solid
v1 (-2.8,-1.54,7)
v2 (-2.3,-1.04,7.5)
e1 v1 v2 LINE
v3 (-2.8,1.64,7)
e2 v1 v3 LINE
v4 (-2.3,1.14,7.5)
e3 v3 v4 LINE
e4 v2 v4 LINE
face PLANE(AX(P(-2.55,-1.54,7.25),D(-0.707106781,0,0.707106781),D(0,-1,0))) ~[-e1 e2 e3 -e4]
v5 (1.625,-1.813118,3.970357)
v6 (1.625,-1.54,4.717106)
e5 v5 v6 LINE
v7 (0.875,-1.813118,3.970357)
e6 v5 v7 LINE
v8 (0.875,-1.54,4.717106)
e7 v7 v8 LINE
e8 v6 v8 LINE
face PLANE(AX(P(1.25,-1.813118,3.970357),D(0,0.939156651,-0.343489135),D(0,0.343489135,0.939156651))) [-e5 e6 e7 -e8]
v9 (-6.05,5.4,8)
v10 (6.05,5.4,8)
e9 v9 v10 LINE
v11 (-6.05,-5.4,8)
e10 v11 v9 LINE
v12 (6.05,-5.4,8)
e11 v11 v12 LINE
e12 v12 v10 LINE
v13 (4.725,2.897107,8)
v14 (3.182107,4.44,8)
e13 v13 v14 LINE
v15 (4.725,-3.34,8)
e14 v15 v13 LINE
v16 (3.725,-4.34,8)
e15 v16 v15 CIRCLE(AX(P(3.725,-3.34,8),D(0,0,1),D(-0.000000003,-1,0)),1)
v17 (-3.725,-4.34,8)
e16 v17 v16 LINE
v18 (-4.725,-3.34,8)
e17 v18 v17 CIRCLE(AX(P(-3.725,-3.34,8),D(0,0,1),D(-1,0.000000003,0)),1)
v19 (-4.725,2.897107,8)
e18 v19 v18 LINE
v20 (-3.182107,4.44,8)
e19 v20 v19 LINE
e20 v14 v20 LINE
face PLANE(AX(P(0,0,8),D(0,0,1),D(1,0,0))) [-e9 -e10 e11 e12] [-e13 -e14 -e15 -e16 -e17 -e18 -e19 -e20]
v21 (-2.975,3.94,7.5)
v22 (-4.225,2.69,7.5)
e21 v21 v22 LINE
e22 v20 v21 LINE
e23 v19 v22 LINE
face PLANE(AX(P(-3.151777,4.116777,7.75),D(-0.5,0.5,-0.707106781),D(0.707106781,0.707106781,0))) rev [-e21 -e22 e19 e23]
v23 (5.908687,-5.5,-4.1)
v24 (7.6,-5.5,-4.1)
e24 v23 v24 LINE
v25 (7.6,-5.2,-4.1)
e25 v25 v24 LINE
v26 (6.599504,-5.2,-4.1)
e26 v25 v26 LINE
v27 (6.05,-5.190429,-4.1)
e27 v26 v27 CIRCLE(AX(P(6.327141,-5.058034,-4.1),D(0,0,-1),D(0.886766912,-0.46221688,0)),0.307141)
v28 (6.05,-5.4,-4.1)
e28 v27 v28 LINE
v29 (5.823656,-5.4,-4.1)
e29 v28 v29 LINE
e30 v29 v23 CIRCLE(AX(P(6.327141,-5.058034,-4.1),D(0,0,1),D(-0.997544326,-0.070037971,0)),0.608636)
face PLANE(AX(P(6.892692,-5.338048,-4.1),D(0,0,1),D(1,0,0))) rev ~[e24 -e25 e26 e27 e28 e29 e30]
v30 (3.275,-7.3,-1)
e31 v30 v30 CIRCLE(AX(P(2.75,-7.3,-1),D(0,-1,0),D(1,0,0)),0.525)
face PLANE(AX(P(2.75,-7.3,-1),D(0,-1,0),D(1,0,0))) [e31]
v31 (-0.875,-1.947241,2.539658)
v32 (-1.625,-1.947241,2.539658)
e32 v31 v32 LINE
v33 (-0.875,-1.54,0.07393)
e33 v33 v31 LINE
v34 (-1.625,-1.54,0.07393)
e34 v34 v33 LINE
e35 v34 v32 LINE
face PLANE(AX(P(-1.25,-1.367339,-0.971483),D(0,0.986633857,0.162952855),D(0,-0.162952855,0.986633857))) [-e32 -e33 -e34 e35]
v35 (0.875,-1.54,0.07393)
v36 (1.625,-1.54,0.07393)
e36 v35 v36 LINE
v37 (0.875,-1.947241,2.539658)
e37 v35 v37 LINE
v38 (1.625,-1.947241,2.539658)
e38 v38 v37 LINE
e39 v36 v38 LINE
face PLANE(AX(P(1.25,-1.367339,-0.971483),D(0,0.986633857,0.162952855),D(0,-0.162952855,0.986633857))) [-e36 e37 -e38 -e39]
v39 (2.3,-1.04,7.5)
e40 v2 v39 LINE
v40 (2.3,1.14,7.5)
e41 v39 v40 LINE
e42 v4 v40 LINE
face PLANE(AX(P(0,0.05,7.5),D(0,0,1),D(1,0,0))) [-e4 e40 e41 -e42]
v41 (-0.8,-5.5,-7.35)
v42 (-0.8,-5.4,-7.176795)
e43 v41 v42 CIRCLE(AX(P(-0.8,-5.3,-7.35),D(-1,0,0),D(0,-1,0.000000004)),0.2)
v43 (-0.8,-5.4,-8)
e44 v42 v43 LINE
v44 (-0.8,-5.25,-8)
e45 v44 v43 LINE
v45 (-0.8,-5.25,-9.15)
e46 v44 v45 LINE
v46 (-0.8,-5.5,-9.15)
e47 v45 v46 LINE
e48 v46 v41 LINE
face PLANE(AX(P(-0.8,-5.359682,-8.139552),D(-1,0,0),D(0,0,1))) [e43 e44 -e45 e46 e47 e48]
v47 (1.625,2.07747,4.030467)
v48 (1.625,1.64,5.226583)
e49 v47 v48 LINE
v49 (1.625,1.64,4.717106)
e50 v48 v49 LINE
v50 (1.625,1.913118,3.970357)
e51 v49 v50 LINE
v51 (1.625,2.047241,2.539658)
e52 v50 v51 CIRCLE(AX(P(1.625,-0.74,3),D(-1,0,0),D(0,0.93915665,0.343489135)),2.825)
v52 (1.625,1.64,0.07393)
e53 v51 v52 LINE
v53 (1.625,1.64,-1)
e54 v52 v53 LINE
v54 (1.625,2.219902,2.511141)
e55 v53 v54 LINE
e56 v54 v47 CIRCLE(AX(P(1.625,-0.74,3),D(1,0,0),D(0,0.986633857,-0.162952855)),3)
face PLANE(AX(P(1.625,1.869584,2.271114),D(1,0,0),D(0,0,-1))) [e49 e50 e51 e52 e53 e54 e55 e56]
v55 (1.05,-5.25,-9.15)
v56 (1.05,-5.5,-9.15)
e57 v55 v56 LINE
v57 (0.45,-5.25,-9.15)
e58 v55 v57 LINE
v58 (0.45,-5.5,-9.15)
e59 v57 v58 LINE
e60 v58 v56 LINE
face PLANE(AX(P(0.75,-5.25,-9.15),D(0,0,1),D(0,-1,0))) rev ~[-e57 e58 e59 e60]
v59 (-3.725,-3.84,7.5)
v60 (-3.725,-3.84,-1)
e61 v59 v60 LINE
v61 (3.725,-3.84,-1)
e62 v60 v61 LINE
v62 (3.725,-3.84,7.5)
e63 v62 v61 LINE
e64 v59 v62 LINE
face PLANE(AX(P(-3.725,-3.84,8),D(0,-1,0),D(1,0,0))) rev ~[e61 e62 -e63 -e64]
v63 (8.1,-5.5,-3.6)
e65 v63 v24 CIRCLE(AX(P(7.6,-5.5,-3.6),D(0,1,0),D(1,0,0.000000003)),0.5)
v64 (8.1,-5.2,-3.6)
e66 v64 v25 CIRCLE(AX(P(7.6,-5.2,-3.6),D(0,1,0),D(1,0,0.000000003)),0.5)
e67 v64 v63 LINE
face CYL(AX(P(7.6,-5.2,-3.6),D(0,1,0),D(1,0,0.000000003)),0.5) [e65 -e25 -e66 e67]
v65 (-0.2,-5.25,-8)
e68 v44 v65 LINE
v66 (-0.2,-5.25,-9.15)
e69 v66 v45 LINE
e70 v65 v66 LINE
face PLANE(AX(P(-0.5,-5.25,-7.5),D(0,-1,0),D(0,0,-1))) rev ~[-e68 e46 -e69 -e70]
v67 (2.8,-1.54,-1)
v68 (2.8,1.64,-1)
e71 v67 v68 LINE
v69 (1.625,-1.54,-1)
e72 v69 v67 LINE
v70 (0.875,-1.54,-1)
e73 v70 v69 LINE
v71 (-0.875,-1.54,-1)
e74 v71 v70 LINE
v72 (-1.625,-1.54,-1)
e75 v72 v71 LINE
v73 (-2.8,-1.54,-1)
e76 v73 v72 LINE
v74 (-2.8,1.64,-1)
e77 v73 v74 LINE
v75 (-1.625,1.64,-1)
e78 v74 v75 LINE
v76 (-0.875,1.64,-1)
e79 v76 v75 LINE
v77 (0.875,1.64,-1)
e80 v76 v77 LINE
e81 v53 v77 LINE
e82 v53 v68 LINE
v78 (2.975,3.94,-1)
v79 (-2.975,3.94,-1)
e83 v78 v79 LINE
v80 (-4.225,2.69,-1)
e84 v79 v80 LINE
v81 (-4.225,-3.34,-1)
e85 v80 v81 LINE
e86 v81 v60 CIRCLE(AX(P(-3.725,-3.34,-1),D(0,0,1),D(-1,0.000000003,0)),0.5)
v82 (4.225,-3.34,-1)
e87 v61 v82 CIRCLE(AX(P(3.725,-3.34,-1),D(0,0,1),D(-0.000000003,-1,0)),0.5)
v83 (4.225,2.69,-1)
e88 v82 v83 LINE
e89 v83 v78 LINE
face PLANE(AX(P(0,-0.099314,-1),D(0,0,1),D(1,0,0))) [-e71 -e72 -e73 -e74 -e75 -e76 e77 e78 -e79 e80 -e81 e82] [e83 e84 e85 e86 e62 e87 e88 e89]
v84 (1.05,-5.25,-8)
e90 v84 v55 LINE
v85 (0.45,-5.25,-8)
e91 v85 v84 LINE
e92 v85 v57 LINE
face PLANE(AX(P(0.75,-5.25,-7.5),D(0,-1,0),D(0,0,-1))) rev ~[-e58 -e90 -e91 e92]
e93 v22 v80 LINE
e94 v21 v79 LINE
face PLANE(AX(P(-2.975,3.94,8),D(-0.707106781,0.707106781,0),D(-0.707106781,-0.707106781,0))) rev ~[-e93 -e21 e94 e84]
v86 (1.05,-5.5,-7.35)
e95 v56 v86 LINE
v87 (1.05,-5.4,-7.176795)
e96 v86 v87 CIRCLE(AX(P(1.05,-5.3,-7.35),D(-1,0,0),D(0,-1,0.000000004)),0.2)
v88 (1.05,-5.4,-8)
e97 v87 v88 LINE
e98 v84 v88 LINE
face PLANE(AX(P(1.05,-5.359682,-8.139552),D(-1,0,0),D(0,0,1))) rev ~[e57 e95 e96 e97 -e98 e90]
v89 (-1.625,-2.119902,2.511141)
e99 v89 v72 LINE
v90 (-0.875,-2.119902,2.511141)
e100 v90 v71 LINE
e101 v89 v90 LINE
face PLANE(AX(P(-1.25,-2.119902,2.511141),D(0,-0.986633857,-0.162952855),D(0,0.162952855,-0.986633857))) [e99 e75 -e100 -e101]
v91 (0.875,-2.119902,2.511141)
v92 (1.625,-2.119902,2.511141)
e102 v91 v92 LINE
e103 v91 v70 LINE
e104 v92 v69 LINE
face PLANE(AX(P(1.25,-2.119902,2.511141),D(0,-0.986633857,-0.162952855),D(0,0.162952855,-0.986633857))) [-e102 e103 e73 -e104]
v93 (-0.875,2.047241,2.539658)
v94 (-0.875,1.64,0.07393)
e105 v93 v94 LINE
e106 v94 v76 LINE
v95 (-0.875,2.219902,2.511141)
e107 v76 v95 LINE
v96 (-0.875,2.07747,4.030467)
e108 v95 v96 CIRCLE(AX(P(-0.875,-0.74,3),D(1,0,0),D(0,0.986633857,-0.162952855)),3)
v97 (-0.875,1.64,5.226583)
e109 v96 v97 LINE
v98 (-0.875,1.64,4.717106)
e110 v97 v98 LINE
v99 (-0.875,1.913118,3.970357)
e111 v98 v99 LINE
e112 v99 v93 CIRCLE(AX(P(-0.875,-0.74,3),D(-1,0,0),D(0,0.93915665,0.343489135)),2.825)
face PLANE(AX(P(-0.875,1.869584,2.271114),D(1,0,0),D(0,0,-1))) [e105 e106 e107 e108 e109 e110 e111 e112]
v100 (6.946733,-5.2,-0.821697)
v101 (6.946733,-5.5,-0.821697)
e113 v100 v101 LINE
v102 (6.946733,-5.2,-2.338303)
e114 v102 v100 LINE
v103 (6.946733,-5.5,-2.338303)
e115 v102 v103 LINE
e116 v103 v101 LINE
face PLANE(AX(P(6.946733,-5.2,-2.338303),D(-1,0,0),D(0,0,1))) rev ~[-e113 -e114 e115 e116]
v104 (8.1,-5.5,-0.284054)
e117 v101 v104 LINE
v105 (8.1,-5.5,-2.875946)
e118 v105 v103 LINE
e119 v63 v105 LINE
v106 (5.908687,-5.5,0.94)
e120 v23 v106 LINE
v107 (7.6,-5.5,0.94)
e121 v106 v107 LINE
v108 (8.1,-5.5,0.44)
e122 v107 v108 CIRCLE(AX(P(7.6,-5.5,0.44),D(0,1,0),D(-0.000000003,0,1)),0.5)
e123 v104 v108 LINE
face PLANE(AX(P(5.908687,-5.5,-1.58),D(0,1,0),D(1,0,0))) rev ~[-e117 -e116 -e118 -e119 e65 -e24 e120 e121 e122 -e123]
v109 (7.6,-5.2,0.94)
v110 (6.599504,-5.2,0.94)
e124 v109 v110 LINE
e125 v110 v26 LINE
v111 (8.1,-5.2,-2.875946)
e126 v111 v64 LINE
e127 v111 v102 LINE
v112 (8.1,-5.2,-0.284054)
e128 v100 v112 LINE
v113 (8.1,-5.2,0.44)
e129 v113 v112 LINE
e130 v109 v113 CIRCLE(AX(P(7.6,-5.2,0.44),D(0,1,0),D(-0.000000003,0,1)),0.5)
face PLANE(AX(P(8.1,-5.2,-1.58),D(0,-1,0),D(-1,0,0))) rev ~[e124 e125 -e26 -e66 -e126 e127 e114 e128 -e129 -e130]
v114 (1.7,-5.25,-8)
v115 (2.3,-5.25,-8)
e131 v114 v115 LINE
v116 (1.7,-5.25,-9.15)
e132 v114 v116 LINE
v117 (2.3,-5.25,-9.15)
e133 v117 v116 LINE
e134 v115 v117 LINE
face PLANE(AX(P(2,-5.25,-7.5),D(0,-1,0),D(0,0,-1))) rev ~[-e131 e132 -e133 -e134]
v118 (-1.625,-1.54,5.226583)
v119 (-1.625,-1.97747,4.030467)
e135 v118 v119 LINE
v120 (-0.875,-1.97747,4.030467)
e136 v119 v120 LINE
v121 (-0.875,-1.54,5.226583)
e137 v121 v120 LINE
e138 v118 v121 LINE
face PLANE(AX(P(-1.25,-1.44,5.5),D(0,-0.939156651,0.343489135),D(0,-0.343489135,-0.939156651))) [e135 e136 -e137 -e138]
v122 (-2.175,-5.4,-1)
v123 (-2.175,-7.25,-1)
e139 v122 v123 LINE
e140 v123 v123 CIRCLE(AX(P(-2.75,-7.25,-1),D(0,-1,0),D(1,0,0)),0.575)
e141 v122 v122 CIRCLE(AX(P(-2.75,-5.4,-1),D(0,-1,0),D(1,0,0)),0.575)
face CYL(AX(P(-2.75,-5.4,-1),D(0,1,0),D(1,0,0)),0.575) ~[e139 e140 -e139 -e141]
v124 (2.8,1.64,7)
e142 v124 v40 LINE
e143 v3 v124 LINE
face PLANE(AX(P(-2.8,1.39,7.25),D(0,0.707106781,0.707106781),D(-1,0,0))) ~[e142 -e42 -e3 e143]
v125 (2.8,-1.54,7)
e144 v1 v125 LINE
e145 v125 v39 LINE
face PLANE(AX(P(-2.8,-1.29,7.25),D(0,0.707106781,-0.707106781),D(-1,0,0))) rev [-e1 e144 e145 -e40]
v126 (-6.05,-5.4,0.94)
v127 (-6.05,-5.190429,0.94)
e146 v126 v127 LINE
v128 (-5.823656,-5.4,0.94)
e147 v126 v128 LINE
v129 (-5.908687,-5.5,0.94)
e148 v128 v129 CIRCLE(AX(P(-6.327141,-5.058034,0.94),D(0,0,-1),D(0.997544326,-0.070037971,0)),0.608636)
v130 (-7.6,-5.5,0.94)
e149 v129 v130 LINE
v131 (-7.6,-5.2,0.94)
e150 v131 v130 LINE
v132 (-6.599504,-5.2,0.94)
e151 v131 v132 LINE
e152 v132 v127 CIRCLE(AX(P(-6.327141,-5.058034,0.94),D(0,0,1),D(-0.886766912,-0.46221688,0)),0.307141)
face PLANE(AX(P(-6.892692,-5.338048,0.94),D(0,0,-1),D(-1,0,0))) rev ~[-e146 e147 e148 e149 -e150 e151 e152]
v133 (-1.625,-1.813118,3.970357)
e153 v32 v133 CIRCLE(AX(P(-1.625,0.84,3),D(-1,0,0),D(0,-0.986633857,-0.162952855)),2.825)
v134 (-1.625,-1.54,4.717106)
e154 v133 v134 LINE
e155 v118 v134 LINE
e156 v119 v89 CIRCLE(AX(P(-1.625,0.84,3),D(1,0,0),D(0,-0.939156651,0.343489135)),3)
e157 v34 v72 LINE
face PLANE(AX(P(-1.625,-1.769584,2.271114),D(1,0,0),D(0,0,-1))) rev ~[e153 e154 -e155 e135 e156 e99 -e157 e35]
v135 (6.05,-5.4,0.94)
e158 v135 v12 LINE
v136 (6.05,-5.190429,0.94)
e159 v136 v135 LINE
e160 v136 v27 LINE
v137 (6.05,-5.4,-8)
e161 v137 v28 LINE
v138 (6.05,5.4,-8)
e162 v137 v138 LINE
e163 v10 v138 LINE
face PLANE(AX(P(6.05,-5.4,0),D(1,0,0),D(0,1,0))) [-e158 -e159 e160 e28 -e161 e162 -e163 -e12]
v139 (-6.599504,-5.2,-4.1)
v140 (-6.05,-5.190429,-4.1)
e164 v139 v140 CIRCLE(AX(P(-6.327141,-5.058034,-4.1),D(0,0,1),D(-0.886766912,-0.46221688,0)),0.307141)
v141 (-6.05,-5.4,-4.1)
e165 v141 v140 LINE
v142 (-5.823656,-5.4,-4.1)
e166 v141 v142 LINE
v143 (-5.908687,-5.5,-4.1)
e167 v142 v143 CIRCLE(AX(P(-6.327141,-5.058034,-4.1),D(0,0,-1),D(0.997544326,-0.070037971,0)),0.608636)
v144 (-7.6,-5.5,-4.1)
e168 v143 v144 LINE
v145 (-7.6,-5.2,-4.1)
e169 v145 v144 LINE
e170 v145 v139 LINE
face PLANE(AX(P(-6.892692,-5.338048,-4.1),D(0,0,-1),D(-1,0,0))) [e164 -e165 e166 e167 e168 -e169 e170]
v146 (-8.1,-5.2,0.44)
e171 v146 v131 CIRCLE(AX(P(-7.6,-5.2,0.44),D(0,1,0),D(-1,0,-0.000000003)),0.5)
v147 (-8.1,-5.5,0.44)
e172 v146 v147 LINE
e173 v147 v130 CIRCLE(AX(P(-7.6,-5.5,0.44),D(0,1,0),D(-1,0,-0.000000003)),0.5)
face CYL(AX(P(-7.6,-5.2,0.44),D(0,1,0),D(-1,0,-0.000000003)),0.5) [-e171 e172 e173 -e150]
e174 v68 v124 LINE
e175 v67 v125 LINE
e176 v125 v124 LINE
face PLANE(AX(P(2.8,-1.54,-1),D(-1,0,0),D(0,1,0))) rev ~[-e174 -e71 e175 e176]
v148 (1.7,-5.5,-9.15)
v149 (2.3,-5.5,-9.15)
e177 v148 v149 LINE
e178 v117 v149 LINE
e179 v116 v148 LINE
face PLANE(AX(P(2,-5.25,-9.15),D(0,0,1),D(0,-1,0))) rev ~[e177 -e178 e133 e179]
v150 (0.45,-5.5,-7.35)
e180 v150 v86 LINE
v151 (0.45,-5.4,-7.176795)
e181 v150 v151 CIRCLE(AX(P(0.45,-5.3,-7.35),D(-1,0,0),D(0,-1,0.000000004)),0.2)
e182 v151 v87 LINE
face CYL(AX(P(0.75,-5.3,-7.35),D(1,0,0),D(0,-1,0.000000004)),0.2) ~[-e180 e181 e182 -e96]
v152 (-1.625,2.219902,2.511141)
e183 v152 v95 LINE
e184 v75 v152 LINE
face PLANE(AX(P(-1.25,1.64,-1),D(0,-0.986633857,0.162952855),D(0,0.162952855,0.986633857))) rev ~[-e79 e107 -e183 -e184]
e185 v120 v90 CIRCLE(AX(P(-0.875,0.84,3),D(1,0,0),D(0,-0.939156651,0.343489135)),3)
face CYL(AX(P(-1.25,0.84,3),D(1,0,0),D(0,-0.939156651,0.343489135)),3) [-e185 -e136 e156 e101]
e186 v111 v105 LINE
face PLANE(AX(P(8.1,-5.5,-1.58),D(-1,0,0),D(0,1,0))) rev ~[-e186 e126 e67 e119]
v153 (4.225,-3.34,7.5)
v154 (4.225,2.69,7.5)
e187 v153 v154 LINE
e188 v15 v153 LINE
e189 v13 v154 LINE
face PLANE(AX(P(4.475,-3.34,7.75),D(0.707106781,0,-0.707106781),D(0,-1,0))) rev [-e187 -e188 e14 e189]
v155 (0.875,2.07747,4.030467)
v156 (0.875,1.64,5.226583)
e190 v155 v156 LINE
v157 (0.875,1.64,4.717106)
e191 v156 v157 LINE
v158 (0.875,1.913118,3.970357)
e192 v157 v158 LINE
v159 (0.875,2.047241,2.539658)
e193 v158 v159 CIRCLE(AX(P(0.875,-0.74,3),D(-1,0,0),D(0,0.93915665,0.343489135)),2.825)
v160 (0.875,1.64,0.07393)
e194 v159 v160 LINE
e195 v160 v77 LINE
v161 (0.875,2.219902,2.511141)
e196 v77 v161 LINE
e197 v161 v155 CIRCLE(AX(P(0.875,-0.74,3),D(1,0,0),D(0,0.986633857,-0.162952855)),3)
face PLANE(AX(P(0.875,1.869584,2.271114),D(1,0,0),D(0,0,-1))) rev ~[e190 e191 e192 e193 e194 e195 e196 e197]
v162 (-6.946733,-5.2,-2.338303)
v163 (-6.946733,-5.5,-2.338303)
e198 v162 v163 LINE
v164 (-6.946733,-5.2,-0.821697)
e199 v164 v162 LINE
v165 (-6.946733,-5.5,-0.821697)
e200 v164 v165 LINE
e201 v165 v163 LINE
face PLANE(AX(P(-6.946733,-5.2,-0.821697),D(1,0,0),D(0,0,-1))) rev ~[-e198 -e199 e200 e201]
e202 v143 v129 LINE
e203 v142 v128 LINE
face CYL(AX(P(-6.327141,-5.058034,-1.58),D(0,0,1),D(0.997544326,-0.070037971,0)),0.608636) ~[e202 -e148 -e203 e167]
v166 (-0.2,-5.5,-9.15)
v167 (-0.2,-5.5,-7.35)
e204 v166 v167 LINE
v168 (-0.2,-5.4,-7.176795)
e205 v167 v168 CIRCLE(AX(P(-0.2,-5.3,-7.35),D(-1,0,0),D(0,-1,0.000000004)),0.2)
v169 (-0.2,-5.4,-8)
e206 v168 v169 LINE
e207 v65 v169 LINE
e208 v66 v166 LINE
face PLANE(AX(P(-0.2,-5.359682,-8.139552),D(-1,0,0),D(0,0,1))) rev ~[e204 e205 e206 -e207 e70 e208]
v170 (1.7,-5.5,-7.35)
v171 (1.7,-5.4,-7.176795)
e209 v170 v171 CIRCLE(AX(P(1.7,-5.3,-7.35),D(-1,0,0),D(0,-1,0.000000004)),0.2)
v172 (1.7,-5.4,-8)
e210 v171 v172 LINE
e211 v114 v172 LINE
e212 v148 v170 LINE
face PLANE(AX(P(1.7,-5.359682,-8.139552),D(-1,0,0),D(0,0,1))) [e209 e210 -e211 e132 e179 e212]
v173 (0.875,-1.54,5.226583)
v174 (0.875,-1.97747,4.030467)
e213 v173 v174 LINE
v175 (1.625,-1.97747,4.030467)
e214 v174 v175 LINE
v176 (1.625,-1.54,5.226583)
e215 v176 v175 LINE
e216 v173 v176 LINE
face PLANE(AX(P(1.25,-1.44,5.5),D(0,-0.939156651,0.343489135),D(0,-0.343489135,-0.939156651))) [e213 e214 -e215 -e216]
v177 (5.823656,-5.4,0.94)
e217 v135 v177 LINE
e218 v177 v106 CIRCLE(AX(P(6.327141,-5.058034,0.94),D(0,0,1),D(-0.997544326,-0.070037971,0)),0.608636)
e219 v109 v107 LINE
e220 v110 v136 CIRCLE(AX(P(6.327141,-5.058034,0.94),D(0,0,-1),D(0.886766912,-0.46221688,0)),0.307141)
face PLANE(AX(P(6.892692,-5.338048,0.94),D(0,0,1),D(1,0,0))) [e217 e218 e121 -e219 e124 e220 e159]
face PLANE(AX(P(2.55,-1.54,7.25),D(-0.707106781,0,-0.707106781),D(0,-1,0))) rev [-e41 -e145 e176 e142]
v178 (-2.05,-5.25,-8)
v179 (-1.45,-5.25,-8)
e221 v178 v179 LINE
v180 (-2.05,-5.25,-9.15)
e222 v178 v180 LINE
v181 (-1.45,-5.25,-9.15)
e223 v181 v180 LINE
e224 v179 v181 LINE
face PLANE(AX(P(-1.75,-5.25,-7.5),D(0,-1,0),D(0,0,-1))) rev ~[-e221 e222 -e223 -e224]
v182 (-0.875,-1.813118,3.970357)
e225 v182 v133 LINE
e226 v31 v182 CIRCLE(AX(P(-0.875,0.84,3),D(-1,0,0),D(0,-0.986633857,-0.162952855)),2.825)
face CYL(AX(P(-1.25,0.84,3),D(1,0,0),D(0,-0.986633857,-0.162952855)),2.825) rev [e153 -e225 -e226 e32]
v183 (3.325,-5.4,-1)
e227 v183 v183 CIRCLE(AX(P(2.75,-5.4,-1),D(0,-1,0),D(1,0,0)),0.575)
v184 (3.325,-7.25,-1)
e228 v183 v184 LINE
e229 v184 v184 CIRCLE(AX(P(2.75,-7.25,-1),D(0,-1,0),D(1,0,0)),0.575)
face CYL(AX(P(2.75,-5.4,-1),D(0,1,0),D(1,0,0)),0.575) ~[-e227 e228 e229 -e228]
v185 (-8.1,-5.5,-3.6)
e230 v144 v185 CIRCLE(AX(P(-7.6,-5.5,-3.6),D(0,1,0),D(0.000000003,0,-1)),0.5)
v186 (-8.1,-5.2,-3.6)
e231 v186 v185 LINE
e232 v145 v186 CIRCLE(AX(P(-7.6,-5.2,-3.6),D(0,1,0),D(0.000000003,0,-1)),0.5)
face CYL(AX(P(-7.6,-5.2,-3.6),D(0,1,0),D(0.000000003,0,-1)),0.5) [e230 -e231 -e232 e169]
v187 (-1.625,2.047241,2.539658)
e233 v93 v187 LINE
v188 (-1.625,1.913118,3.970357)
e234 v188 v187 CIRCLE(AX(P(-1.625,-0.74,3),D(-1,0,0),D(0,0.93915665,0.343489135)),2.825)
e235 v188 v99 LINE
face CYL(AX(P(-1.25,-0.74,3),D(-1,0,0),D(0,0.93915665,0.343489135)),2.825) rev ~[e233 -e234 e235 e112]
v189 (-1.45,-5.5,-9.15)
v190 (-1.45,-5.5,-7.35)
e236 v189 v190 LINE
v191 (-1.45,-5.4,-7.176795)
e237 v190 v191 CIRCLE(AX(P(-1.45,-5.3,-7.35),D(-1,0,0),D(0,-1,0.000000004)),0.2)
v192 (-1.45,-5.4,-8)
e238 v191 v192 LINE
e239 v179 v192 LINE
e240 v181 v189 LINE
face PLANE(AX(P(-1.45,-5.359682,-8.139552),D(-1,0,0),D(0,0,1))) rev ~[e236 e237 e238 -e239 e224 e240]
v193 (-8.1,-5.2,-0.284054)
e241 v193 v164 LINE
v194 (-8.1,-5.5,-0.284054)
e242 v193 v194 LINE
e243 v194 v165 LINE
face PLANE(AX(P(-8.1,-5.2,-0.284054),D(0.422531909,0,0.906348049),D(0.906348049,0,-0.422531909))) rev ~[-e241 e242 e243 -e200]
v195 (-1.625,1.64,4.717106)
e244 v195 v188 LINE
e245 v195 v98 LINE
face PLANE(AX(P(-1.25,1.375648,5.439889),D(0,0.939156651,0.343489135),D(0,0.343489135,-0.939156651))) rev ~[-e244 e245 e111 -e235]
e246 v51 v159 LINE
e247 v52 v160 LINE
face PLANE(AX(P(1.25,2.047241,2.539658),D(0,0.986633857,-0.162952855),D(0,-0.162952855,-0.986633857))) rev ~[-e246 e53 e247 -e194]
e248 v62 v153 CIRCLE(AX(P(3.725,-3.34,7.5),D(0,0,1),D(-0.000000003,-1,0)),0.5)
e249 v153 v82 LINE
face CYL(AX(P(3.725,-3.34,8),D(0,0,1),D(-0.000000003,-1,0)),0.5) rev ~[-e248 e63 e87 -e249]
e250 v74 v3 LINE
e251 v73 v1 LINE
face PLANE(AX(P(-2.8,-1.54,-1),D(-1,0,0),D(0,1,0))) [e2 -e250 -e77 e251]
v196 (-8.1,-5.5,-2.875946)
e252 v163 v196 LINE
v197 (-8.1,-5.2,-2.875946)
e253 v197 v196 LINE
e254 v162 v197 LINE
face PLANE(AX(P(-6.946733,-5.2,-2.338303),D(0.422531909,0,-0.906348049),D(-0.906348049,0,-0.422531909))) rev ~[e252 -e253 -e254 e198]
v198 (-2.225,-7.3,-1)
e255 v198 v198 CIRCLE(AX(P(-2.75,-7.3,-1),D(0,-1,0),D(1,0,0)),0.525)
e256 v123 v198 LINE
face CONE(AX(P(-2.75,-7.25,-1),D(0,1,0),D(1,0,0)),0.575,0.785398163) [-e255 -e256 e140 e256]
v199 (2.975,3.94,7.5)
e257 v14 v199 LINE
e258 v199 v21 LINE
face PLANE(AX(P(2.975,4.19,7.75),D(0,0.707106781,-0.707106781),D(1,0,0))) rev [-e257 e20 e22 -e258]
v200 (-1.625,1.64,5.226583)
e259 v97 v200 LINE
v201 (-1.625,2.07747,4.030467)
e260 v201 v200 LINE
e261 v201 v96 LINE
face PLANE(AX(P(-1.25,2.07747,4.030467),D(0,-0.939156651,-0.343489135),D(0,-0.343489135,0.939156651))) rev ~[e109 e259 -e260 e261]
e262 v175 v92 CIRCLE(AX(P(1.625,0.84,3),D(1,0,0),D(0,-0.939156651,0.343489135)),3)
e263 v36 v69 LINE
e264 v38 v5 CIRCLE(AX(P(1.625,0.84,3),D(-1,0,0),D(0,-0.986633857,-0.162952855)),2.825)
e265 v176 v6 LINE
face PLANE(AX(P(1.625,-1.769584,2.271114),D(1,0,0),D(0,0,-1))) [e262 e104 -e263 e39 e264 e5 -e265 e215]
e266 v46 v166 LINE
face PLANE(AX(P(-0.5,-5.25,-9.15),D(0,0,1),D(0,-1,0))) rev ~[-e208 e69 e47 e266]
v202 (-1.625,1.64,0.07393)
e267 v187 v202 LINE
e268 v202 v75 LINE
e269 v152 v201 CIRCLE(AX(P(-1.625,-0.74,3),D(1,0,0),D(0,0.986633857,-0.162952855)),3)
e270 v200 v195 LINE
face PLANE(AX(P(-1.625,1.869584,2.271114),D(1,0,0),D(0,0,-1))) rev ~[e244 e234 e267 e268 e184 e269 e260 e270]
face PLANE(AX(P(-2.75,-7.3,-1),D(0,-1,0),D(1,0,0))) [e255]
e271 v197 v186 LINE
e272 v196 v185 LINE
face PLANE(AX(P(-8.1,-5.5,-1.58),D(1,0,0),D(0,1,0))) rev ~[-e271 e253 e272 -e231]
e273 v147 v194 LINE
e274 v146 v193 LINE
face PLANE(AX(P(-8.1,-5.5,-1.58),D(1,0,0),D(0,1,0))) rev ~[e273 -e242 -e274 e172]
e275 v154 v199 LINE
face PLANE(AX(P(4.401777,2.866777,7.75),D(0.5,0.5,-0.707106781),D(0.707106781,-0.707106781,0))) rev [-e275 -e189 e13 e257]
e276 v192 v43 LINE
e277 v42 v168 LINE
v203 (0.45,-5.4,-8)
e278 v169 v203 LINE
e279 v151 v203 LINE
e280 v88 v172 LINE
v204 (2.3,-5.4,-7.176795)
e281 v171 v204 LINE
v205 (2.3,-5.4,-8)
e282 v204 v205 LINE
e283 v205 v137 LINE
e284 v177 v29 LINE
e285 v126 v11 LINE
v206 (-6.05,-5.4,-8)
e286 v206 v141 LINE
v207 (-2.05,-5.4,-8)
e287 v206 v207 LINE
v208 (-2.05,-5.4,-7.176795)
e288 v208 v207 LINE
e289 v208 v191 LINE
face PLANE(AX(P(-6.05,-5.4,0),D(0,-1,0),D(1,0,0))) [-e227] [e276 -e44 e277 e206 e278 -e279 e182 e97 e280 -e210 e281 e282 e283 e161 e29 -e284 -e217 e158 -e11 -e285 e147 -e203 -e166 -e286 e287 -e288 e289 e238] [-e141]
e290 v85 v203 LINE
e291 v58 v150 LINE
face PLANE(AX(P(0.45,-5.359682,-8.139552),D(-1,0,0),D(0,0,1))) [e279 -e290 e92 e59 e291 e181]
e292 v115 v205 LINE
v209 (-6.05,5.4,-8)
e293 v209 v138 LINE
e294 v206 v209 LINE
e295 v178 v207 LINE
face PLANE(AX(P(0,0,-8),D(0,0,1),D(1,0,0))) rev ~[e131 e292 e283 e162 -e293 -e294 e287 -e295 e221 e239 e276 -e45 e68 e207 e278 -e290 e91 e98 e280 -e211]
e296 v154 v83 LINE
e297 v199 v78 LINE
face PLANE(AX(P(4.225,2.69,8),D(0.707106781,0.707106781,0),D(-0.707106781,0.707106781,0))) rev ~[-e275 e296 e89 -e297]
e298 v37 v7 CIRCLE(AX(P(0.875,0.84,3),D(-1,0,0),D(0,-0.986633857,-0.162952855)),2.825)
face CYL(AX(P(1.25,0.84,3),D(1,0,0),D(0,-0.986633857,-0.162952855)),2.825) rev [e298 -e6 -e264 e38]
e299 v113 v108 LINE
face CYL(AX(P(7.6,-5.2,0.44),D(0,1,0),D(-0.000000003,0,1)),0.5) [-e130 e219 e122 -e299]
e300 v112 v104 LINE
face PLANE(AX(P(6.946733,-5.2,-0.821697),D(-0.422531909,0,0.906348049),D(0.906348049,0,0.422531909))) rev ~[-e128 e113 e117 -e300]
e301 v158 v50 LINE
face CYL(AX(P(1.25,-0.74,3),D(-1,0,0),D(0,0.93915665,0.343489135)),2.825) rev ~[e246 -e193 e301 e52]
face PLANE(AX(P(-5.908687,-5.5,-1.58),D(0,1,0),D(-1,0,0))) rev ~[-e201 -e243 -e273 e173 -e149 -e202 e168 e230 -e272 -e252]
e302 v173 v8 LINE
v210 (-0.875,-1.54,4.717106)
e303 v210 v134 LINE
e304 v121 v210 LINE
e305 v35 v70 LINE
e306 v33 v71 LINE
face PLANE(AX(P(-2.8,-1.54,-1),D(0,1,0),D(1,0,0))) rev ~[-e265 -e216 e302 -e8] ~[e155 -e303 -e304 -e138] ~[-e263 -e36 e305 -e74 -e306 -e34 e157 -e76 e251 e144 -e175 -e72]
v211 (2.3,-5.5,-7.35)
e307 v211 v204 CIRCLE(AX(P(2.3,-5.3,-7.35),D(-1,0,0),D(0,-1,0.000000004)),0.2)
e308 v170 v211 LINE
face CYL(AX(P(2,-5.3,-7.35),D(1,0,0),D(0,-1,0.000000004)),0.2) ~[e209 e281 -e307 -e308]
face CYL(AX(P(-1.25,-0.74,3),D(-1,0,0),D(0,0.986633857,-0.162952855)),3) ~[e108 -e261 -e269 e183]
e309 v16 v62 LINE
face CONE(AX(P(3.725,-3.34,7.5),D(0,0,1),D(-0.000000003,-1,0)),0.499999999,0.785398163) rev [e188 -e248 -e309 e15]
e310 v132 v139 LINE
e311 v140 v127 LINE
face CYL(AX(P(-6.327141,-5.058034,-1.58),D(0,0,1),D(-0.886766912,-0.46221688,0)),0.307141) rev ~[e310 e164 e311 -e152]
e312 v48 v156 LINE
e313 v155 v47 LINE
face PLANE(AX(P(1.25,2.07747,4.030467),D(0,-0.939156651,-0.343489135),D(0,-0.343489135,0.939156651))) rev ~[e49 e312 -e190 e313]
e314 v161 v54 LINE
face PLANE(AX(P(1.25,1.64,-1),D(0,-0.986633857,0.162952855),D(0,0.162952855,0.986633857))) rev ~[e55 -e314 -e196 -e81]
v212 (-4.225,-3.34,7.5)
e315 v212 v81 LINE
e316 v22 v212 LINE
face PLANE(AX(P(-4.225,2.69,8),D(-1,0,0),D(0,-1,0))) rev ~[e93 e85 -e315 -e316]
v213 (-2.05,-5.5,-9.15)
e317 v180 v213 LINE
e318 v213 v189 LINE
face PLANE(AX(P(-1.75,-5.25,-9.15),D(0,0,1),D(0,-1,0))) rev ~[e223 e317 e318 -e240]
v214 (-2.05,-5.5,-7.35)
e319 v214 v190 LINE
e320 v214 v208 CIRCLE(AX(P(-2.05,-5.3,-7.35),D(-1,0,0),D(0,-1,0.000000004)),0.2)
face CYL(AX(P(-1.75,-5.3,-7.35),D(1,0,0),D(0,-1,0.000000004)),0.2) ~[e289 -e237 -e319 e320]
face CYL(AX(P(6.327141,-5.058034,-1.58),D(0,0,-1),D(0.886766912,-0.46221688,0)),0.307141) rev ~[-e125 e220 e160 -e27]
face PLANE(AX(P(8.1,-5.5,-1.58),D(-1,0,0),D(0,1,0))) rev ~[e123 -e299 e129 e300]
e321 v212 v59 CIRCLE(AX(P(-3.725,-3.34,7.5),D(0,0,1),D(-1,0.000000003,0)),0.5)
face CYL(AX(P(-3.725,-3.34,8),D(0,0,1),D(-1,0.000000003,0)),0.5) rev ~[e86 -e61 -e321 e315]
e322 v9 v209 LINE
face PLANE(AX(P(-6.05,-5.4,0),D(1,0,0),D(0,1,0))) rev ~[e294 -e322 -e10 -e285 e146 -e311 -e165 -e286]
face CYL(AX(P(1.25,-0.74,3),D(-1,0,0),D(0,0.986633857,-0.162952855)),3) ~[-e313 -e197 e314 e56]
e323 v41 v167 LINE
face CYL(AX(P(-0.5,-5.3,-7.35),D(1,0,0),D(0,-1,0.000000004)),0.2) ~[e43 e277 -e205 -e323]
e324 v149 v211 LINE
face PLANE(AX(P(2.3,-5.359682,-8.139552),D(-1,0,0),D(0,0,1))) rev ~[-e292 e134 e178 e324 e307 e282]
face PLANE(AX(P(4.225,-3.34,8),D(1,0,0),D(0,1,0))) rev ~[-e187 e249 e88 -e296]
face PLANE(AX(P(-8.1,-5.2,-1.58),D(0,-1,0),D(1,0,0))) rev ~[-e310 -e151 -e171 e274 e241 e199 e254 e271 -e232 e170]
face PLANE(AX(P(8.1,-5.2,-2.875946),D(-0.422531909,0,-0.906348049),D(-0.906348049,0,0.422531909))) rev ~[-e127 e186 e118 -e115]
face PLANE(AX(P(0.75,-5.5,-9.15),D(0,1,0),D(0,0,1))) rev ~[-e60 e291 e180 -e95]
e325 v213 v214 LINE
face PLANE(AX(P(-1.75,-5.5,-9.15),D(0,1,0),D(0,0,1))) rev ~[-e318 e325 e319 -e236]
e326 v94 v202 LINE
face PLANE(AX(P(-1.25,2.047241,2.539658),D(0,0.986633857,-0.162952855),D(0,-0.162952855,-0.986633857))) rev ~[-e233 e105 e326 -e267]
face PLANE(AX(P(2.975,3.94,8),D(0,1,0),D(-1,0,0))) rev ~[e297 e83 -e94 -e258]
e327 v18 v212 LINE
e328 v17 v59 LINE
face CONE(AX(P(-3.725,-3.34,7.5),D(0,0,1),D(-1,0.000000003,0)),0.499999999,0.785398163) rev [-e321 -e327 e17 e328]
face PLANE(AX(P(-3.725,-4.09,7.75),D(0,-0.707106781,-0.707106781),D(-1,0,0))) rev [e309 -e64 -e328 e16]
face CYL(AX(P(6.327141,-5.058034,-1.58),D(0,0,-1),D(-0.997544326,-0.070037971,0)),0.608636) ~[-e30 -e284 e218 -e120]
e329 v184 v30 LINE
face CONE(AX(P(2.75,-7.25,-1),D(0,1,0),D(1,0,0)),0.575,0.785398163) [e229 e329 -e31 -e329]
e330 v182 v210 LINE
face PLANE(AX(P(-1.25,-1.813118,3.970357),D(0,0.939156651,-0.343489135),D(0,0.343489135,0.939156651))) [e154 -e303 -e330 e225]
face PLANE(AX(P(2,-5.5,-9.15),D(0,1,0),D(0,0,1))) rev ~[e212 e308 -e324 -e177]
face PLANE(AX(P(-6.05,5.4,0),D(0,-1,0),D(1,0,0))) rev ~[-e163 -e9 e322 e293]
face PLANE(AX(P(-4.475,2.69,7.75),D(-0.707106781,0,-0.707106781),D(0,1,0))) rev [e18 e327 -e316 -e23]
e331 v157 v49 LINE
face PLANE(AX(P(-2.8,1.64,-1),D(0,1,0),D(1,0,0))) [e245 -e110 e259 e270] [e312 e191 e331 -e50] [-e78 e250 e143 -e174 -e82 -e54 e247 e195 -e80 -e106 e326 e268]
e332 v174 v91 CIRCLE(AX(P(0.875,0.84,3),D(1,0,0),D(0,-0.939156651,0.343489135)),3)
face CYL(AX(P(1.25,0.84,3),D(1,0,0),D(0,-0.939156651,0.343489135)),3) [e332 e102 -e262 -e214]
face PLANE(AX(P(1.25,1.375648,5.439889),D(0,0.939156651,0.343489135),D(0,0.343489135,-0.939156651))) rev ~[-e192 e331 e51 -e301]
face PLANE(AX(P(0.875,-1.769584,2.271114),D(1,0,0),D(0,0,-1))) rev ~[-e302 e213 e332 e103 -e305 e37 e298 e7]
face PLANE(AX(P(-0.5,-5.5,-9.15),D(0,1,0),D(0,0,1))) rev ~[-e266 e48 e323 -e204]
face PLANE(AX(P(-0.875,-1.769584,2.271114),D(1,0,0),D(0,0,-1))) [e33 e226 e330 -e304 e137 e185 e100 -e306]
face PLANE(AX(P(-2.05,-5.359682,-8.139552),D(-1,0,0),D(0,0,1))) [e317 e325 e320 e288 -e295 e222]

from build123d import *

# Parameters (mm, degrees)
SKETCH1_W                    = 12.1
SKETCH1_H                    = 10.8
BASE_DEPTH                   = 8
CONTACT_OPENING_DEPTH        = 9
CONTACT_OPENING_LEAD_IN_SIZE = 0.5
SKETCH3_W                    = 5.6
SKETCH3_H                    = 3.18
CONTACT_AREA_DEPTH           = 8.5
CONTACT_AREA_LEAD_IN_SIZE    = 0.5
GROUND_LEGS_DEPTH            = 2.52
GROUND_LEGS_SHAPE_DEPTH      = 0.3
SM_TAILS_DEPTH               = 0.3
CONTACT_DEPTH                = 0.375
CONTACT_PATTERN_COUNT        = 2
CONTACT_PATTERN_PITCH        = 2.5
LPATTERN1_COUNT              = 2
LPATTERN1_PITCH              = 1.25
LPATTERN1_COL_COUNT          = 3
LPATTERN1_COL_PITCH          = 1.25
SKETCH12_R                   = 0.575
ALIGNMENT_PIN_DEPTH          = 1.9
PIN_POINT_SIZE               = 0.05


with BuildPart() as part:
    # Sketch1 → Base (new body, symmetric)
    with BuildSketch(Plane.XY):
        Rectangle(SKETCH1_W, SKETCH1_H)
    extrude(amount=BASE_DEPTH, both=True)

    # Sketch2 → Contact Opening (cut)
    with BuildSketch(Plane.XY.offset(8)):
        with BuildLine():
            Line((-2.975, 3.94), (-4.225, 2.69))
            Line((-4.225, 2.69), (-4.225, -3.34))
            ThreePointArc((-4.225, -3.34), (-4.078553391, -3.693553391), (-3.725, -3.84))
            Line((-3.725, -3.84), (3.725, -3.84))
            ThreePointArc((3.725, -3.84), (4.078553391, -3.693553391), (4.225, -3.34))
            Line((4.225, -3.34), (4.225, 2.69))
            Line((4.225, 2.69), (2.975, 3.94))
            Line((2.975, 3.94), (-2.975, 3.94))
        make_face()
    extrude(amount=-CONTACT_OPENING_DEPTH, mode=Mode.SUBTRACT)

    # Contact Opening Lead-in
    contact_opening_lead_in_edges = [part.edges().sort_by_distance(p)[0] for p in [
        (0, 3.94, 8),
        (-3.6, 3.315, 8),
        (-4.225, -0.325, 8),
        (-4.078553391, -3.693553391, 8),
        (0, -3.84, 8),
        (4.078553391, -3.693553391, 8),
        (4.225, -0.325, 8),
        (3.6, 3.315, 8),
    ]]
    chamfer(contact_opening_lead_in_edges, length=CONTACT_OPENING_LEAD_IN_SIZE)

    # Sketch3 → Contact Area (add)
    with BuildSketch(Plane.XY.offset(-1)):
        with Locations((0, 0.05)):
            Rectangle(SKETCH3_W, SKETCH3_H)
    extrude(amount=CONTACT_AREA_DEPTH)

    # Contact Area Lead-in
    contact_area_lead_in_edges = [part.edges().sort_by_distance(p)[0] for p in [
        (-2.8, 0.05, 7.5),
        (0, -1.54, 7.5),
        (2.8, 0.05, 7.5),
        (0, 1.64, 7.5),
    ]]
    chamfer(contact_area_lead_in_edges, length=CONTACT_AREA_LEAD_IN_SIZE)

    # Sketch4 → Ground Legs (add, symmetric)
    with BuildSketch(Plane.XY.offset(-1.58)):
        with BuildLine():
            Line((6.02, -5.058034034), (5.72, -5.100661668))
            ThreePointArc((5.72, -5.100661668), (5.776842077, -5.318050295), (5.90868722, -5.5))
            Line((5.90868722, -5.5), (8.1, -5.5))
            Line((8.1, -5.5), (8.1, -5.2))
            Line((8.1, -5.2), (6.599504335, -5.2))
            ThreePointArc((6.599504335, -5.2), (6.254059507, -5.356354169), (6.02, -5.058034034))
        make_face()
        with BuildLine():
            Line((-5.90868722, -5.5), (-8.1, -5.5))
            Line((-8.1, -5.5), (-8.1, -5.2))
            Line((-8.1, -5.2), (-6.599504335, -5.2))
            ThreePointArc((-6.599504335, -5.2), (-6.254059507, -5.356354169), (-6.02, -5.058034034))
            Line((-6.02, -5.058034034), (-5.72, -5.100661668))
            ThreePointArc((-5.72, -5.100661668), (-5.776842077, -5.318050295), (-5.90868722, -5.5))
        make_face()
    extrude(amount=GROUND_LEGS_DEPTH, both=True)

    # Sketch9 → ground legs shape (cut)
    with BuildSketch(Plane(origin=(0, -5.2, 0), x_dir=(-1, 0, 0), z_dir=(0, 1, 0))):
        with BuildLine():
            Line((-8.1, -4.1), (-8.1, -3.6))
            ThreePointArc((-8.1, -3.6), (-7.953553391, -3.953553391), (-7.6, -4.1))
            Line((-7.6, -4.1), (-8.1, -4.1))
        make_face()
        Polygon((-8.1, -2.875946044), (-6.946732983, -2.33830257), (-6.946732983, -0.82169743), (-8.1, -0.284053956), align=None)
        with BuildLine():
            Line((-8.1, 0.94), (-7.6, 0.94))
            ThreePointArc((-7.6, 0.94), (-7.953553391, 0.793553391), (-8.1, 0.44))
            Line((-8.1, 0.44), (-8.1, 0.94))
        make_face()
        with BuildLine():
            Line((8.1, 0.94), (8.1, 0.44))
            ThreePointArc((8.1, 0.44), (7.953553391, 0.793553391), (7.6, 0.94))
            Line((7.6, 0.94), (8.1, 0.94))
        make_face()
        Polygon((8.1, -0.284053956), (6.946732983, -0.82169743), (6.946732983, -2.33830257), (8.1, -2.875946044), align=None)
        with BuildLine():
            Line((8.1, -4.1), (7.6, -4.1))
            ThreePointArc((7.6, -4.1), (7.953553391, -3.953553391), (8.1, -3.6))
            Line((8.1, -3.6), (8.1, -4.1))
        make_face()
    extrude(amount=-GROUND_LEGS_SHAPE_DEPTH, mode=Mode.SUBTRACT)

    # Sketch11 → SM Tails (add, symmetric)
    with BuildSketch(Plane(origin=(0.75, 0, 0), x_dir=(0, 0, -1), z_dir=(1, 0, 0))):
        with BuildLine():
            Line((7.15, -5.3), (7.15, -5.15))
            Line((7.15, -5.15), (7.4, -5.15))
            ThreePointArc((7.4, -5.15), (7.429289322, -5.220710678), (7.5, -5.25))
            Line((7.5, -5.25), (9.15, -5.25))
            Line((9.15, -5.25), (9.15, -5.5))
            Line((9.15, -5.5), (7.35, -5.5))
            ThreePointArc((7.35, -5.5), (7.208578644, -5.441421356), (7.15, -5.3))
        make_face()
    sm_tails = extrude(amount=SM_TAILS_DEPTH, both=True)

    # Sketch8 → Contact (add, symmetric)
    with BuildSketch(Plane(origin=(-1.25, 0, 0), x_dir=(0, 0, -1), z_dir=(1, 0, 0))):
        with BuildLine():
            Line((1, 1.64), (-2.511141434, 2.21990157))
            ThreePointArc((-2.511141434, 2.21990157), (-3.280012008, 2.246903627), (-4.030467404, 2.077469952))
            Line((-4.030467404, 2.077469952), (-5.5, 1.54))
            Line((-5.5, 1.54), (-5.439889401, 1.375647586))
            Line((-5.439889401, 1.375647586), (-3.970356805, 1.913117538))
            ThreePointArc((-3.970356805, 1.913117538), (-3.263677974, 2.072667582), (-2.539658184, 2.047240645))
            Line((-2.539658184, 2.047240645), (0.97148325, 1.467339075))
            Line((0.97148325, 1.467339075), (1, 1.64))
        make_face()
        with BuildLine():
            Line((-5.439889401, -1.275647586), (-5.5, -1.44))
            Line((-5.5, -1.44), (-4.030467404, -1.977469952))
            ThreePointArc((-4.030467404, -1.977469952), (-3.280012008, -2.146903627), (-2.511141434, -2.11990157))
            Line((-2.511141434, -2.11990157), (1, -1.54))
            Line((1, -1.54), (0.97148325, -1.367339075))
            Line((0.97148325, -1.367339075), (-2.539658184, -1.947240645))
            ThreePointArc((-2.539658184, -1.947240645), (-3.263677974, -1.972667582), (-3.970356805, -1.813117538))
            Line((-3.970356805, -1.813117538), (-5.439889401, -1.275647586))
        make_face()
    contact = extrude(amount=CONTACT_DEPTH, both=True)

    # Contact Pattern: Contact ×2
    with Locations(*[(i * CONTACT_PATTERN_PITCH, 0, 0) for i in range(1, CONTACT_PATTERN_COUNT)]):
        add(contact)

    # LPattern1: SM Tails ×2
    with Locations(*[(i * LPATTERN1_PITCH, 0, 0) for i in range(1, LPATTERN1_COUNT)]):
        add(sm_tails)

    # LPattern1 col: SM Tails ×3
    with Locations(*[(-i * LPATTERN1_COL_PITCH, 0, 0) for i in range(1, LPATTERN1_COL_COUNT)]):
        add(sm_tails)

    # Sketch12 → Alignment Pin (add)
    with BuildSketch(Plane.XZ.offset(5.4)):
        with Locations((2.75, -1)):
            Circle(SKETCH12_R)
        with Locations((-2.75, -1)):
            Circle(SKETCH12_R)
    extrude(amount=ALIGNMENT_PIN_DEPTH)

    # Pin Point
    pin_point_edges = [part.edges().sort_by_distance(p)[0] for p in [
        (2.175, -7.3, -1),
        (-3.325, -7.3, -1),
    ]]
    chamfer(pin_point_edges, length=PIN_POINT_SIZE)


solid = part.part
